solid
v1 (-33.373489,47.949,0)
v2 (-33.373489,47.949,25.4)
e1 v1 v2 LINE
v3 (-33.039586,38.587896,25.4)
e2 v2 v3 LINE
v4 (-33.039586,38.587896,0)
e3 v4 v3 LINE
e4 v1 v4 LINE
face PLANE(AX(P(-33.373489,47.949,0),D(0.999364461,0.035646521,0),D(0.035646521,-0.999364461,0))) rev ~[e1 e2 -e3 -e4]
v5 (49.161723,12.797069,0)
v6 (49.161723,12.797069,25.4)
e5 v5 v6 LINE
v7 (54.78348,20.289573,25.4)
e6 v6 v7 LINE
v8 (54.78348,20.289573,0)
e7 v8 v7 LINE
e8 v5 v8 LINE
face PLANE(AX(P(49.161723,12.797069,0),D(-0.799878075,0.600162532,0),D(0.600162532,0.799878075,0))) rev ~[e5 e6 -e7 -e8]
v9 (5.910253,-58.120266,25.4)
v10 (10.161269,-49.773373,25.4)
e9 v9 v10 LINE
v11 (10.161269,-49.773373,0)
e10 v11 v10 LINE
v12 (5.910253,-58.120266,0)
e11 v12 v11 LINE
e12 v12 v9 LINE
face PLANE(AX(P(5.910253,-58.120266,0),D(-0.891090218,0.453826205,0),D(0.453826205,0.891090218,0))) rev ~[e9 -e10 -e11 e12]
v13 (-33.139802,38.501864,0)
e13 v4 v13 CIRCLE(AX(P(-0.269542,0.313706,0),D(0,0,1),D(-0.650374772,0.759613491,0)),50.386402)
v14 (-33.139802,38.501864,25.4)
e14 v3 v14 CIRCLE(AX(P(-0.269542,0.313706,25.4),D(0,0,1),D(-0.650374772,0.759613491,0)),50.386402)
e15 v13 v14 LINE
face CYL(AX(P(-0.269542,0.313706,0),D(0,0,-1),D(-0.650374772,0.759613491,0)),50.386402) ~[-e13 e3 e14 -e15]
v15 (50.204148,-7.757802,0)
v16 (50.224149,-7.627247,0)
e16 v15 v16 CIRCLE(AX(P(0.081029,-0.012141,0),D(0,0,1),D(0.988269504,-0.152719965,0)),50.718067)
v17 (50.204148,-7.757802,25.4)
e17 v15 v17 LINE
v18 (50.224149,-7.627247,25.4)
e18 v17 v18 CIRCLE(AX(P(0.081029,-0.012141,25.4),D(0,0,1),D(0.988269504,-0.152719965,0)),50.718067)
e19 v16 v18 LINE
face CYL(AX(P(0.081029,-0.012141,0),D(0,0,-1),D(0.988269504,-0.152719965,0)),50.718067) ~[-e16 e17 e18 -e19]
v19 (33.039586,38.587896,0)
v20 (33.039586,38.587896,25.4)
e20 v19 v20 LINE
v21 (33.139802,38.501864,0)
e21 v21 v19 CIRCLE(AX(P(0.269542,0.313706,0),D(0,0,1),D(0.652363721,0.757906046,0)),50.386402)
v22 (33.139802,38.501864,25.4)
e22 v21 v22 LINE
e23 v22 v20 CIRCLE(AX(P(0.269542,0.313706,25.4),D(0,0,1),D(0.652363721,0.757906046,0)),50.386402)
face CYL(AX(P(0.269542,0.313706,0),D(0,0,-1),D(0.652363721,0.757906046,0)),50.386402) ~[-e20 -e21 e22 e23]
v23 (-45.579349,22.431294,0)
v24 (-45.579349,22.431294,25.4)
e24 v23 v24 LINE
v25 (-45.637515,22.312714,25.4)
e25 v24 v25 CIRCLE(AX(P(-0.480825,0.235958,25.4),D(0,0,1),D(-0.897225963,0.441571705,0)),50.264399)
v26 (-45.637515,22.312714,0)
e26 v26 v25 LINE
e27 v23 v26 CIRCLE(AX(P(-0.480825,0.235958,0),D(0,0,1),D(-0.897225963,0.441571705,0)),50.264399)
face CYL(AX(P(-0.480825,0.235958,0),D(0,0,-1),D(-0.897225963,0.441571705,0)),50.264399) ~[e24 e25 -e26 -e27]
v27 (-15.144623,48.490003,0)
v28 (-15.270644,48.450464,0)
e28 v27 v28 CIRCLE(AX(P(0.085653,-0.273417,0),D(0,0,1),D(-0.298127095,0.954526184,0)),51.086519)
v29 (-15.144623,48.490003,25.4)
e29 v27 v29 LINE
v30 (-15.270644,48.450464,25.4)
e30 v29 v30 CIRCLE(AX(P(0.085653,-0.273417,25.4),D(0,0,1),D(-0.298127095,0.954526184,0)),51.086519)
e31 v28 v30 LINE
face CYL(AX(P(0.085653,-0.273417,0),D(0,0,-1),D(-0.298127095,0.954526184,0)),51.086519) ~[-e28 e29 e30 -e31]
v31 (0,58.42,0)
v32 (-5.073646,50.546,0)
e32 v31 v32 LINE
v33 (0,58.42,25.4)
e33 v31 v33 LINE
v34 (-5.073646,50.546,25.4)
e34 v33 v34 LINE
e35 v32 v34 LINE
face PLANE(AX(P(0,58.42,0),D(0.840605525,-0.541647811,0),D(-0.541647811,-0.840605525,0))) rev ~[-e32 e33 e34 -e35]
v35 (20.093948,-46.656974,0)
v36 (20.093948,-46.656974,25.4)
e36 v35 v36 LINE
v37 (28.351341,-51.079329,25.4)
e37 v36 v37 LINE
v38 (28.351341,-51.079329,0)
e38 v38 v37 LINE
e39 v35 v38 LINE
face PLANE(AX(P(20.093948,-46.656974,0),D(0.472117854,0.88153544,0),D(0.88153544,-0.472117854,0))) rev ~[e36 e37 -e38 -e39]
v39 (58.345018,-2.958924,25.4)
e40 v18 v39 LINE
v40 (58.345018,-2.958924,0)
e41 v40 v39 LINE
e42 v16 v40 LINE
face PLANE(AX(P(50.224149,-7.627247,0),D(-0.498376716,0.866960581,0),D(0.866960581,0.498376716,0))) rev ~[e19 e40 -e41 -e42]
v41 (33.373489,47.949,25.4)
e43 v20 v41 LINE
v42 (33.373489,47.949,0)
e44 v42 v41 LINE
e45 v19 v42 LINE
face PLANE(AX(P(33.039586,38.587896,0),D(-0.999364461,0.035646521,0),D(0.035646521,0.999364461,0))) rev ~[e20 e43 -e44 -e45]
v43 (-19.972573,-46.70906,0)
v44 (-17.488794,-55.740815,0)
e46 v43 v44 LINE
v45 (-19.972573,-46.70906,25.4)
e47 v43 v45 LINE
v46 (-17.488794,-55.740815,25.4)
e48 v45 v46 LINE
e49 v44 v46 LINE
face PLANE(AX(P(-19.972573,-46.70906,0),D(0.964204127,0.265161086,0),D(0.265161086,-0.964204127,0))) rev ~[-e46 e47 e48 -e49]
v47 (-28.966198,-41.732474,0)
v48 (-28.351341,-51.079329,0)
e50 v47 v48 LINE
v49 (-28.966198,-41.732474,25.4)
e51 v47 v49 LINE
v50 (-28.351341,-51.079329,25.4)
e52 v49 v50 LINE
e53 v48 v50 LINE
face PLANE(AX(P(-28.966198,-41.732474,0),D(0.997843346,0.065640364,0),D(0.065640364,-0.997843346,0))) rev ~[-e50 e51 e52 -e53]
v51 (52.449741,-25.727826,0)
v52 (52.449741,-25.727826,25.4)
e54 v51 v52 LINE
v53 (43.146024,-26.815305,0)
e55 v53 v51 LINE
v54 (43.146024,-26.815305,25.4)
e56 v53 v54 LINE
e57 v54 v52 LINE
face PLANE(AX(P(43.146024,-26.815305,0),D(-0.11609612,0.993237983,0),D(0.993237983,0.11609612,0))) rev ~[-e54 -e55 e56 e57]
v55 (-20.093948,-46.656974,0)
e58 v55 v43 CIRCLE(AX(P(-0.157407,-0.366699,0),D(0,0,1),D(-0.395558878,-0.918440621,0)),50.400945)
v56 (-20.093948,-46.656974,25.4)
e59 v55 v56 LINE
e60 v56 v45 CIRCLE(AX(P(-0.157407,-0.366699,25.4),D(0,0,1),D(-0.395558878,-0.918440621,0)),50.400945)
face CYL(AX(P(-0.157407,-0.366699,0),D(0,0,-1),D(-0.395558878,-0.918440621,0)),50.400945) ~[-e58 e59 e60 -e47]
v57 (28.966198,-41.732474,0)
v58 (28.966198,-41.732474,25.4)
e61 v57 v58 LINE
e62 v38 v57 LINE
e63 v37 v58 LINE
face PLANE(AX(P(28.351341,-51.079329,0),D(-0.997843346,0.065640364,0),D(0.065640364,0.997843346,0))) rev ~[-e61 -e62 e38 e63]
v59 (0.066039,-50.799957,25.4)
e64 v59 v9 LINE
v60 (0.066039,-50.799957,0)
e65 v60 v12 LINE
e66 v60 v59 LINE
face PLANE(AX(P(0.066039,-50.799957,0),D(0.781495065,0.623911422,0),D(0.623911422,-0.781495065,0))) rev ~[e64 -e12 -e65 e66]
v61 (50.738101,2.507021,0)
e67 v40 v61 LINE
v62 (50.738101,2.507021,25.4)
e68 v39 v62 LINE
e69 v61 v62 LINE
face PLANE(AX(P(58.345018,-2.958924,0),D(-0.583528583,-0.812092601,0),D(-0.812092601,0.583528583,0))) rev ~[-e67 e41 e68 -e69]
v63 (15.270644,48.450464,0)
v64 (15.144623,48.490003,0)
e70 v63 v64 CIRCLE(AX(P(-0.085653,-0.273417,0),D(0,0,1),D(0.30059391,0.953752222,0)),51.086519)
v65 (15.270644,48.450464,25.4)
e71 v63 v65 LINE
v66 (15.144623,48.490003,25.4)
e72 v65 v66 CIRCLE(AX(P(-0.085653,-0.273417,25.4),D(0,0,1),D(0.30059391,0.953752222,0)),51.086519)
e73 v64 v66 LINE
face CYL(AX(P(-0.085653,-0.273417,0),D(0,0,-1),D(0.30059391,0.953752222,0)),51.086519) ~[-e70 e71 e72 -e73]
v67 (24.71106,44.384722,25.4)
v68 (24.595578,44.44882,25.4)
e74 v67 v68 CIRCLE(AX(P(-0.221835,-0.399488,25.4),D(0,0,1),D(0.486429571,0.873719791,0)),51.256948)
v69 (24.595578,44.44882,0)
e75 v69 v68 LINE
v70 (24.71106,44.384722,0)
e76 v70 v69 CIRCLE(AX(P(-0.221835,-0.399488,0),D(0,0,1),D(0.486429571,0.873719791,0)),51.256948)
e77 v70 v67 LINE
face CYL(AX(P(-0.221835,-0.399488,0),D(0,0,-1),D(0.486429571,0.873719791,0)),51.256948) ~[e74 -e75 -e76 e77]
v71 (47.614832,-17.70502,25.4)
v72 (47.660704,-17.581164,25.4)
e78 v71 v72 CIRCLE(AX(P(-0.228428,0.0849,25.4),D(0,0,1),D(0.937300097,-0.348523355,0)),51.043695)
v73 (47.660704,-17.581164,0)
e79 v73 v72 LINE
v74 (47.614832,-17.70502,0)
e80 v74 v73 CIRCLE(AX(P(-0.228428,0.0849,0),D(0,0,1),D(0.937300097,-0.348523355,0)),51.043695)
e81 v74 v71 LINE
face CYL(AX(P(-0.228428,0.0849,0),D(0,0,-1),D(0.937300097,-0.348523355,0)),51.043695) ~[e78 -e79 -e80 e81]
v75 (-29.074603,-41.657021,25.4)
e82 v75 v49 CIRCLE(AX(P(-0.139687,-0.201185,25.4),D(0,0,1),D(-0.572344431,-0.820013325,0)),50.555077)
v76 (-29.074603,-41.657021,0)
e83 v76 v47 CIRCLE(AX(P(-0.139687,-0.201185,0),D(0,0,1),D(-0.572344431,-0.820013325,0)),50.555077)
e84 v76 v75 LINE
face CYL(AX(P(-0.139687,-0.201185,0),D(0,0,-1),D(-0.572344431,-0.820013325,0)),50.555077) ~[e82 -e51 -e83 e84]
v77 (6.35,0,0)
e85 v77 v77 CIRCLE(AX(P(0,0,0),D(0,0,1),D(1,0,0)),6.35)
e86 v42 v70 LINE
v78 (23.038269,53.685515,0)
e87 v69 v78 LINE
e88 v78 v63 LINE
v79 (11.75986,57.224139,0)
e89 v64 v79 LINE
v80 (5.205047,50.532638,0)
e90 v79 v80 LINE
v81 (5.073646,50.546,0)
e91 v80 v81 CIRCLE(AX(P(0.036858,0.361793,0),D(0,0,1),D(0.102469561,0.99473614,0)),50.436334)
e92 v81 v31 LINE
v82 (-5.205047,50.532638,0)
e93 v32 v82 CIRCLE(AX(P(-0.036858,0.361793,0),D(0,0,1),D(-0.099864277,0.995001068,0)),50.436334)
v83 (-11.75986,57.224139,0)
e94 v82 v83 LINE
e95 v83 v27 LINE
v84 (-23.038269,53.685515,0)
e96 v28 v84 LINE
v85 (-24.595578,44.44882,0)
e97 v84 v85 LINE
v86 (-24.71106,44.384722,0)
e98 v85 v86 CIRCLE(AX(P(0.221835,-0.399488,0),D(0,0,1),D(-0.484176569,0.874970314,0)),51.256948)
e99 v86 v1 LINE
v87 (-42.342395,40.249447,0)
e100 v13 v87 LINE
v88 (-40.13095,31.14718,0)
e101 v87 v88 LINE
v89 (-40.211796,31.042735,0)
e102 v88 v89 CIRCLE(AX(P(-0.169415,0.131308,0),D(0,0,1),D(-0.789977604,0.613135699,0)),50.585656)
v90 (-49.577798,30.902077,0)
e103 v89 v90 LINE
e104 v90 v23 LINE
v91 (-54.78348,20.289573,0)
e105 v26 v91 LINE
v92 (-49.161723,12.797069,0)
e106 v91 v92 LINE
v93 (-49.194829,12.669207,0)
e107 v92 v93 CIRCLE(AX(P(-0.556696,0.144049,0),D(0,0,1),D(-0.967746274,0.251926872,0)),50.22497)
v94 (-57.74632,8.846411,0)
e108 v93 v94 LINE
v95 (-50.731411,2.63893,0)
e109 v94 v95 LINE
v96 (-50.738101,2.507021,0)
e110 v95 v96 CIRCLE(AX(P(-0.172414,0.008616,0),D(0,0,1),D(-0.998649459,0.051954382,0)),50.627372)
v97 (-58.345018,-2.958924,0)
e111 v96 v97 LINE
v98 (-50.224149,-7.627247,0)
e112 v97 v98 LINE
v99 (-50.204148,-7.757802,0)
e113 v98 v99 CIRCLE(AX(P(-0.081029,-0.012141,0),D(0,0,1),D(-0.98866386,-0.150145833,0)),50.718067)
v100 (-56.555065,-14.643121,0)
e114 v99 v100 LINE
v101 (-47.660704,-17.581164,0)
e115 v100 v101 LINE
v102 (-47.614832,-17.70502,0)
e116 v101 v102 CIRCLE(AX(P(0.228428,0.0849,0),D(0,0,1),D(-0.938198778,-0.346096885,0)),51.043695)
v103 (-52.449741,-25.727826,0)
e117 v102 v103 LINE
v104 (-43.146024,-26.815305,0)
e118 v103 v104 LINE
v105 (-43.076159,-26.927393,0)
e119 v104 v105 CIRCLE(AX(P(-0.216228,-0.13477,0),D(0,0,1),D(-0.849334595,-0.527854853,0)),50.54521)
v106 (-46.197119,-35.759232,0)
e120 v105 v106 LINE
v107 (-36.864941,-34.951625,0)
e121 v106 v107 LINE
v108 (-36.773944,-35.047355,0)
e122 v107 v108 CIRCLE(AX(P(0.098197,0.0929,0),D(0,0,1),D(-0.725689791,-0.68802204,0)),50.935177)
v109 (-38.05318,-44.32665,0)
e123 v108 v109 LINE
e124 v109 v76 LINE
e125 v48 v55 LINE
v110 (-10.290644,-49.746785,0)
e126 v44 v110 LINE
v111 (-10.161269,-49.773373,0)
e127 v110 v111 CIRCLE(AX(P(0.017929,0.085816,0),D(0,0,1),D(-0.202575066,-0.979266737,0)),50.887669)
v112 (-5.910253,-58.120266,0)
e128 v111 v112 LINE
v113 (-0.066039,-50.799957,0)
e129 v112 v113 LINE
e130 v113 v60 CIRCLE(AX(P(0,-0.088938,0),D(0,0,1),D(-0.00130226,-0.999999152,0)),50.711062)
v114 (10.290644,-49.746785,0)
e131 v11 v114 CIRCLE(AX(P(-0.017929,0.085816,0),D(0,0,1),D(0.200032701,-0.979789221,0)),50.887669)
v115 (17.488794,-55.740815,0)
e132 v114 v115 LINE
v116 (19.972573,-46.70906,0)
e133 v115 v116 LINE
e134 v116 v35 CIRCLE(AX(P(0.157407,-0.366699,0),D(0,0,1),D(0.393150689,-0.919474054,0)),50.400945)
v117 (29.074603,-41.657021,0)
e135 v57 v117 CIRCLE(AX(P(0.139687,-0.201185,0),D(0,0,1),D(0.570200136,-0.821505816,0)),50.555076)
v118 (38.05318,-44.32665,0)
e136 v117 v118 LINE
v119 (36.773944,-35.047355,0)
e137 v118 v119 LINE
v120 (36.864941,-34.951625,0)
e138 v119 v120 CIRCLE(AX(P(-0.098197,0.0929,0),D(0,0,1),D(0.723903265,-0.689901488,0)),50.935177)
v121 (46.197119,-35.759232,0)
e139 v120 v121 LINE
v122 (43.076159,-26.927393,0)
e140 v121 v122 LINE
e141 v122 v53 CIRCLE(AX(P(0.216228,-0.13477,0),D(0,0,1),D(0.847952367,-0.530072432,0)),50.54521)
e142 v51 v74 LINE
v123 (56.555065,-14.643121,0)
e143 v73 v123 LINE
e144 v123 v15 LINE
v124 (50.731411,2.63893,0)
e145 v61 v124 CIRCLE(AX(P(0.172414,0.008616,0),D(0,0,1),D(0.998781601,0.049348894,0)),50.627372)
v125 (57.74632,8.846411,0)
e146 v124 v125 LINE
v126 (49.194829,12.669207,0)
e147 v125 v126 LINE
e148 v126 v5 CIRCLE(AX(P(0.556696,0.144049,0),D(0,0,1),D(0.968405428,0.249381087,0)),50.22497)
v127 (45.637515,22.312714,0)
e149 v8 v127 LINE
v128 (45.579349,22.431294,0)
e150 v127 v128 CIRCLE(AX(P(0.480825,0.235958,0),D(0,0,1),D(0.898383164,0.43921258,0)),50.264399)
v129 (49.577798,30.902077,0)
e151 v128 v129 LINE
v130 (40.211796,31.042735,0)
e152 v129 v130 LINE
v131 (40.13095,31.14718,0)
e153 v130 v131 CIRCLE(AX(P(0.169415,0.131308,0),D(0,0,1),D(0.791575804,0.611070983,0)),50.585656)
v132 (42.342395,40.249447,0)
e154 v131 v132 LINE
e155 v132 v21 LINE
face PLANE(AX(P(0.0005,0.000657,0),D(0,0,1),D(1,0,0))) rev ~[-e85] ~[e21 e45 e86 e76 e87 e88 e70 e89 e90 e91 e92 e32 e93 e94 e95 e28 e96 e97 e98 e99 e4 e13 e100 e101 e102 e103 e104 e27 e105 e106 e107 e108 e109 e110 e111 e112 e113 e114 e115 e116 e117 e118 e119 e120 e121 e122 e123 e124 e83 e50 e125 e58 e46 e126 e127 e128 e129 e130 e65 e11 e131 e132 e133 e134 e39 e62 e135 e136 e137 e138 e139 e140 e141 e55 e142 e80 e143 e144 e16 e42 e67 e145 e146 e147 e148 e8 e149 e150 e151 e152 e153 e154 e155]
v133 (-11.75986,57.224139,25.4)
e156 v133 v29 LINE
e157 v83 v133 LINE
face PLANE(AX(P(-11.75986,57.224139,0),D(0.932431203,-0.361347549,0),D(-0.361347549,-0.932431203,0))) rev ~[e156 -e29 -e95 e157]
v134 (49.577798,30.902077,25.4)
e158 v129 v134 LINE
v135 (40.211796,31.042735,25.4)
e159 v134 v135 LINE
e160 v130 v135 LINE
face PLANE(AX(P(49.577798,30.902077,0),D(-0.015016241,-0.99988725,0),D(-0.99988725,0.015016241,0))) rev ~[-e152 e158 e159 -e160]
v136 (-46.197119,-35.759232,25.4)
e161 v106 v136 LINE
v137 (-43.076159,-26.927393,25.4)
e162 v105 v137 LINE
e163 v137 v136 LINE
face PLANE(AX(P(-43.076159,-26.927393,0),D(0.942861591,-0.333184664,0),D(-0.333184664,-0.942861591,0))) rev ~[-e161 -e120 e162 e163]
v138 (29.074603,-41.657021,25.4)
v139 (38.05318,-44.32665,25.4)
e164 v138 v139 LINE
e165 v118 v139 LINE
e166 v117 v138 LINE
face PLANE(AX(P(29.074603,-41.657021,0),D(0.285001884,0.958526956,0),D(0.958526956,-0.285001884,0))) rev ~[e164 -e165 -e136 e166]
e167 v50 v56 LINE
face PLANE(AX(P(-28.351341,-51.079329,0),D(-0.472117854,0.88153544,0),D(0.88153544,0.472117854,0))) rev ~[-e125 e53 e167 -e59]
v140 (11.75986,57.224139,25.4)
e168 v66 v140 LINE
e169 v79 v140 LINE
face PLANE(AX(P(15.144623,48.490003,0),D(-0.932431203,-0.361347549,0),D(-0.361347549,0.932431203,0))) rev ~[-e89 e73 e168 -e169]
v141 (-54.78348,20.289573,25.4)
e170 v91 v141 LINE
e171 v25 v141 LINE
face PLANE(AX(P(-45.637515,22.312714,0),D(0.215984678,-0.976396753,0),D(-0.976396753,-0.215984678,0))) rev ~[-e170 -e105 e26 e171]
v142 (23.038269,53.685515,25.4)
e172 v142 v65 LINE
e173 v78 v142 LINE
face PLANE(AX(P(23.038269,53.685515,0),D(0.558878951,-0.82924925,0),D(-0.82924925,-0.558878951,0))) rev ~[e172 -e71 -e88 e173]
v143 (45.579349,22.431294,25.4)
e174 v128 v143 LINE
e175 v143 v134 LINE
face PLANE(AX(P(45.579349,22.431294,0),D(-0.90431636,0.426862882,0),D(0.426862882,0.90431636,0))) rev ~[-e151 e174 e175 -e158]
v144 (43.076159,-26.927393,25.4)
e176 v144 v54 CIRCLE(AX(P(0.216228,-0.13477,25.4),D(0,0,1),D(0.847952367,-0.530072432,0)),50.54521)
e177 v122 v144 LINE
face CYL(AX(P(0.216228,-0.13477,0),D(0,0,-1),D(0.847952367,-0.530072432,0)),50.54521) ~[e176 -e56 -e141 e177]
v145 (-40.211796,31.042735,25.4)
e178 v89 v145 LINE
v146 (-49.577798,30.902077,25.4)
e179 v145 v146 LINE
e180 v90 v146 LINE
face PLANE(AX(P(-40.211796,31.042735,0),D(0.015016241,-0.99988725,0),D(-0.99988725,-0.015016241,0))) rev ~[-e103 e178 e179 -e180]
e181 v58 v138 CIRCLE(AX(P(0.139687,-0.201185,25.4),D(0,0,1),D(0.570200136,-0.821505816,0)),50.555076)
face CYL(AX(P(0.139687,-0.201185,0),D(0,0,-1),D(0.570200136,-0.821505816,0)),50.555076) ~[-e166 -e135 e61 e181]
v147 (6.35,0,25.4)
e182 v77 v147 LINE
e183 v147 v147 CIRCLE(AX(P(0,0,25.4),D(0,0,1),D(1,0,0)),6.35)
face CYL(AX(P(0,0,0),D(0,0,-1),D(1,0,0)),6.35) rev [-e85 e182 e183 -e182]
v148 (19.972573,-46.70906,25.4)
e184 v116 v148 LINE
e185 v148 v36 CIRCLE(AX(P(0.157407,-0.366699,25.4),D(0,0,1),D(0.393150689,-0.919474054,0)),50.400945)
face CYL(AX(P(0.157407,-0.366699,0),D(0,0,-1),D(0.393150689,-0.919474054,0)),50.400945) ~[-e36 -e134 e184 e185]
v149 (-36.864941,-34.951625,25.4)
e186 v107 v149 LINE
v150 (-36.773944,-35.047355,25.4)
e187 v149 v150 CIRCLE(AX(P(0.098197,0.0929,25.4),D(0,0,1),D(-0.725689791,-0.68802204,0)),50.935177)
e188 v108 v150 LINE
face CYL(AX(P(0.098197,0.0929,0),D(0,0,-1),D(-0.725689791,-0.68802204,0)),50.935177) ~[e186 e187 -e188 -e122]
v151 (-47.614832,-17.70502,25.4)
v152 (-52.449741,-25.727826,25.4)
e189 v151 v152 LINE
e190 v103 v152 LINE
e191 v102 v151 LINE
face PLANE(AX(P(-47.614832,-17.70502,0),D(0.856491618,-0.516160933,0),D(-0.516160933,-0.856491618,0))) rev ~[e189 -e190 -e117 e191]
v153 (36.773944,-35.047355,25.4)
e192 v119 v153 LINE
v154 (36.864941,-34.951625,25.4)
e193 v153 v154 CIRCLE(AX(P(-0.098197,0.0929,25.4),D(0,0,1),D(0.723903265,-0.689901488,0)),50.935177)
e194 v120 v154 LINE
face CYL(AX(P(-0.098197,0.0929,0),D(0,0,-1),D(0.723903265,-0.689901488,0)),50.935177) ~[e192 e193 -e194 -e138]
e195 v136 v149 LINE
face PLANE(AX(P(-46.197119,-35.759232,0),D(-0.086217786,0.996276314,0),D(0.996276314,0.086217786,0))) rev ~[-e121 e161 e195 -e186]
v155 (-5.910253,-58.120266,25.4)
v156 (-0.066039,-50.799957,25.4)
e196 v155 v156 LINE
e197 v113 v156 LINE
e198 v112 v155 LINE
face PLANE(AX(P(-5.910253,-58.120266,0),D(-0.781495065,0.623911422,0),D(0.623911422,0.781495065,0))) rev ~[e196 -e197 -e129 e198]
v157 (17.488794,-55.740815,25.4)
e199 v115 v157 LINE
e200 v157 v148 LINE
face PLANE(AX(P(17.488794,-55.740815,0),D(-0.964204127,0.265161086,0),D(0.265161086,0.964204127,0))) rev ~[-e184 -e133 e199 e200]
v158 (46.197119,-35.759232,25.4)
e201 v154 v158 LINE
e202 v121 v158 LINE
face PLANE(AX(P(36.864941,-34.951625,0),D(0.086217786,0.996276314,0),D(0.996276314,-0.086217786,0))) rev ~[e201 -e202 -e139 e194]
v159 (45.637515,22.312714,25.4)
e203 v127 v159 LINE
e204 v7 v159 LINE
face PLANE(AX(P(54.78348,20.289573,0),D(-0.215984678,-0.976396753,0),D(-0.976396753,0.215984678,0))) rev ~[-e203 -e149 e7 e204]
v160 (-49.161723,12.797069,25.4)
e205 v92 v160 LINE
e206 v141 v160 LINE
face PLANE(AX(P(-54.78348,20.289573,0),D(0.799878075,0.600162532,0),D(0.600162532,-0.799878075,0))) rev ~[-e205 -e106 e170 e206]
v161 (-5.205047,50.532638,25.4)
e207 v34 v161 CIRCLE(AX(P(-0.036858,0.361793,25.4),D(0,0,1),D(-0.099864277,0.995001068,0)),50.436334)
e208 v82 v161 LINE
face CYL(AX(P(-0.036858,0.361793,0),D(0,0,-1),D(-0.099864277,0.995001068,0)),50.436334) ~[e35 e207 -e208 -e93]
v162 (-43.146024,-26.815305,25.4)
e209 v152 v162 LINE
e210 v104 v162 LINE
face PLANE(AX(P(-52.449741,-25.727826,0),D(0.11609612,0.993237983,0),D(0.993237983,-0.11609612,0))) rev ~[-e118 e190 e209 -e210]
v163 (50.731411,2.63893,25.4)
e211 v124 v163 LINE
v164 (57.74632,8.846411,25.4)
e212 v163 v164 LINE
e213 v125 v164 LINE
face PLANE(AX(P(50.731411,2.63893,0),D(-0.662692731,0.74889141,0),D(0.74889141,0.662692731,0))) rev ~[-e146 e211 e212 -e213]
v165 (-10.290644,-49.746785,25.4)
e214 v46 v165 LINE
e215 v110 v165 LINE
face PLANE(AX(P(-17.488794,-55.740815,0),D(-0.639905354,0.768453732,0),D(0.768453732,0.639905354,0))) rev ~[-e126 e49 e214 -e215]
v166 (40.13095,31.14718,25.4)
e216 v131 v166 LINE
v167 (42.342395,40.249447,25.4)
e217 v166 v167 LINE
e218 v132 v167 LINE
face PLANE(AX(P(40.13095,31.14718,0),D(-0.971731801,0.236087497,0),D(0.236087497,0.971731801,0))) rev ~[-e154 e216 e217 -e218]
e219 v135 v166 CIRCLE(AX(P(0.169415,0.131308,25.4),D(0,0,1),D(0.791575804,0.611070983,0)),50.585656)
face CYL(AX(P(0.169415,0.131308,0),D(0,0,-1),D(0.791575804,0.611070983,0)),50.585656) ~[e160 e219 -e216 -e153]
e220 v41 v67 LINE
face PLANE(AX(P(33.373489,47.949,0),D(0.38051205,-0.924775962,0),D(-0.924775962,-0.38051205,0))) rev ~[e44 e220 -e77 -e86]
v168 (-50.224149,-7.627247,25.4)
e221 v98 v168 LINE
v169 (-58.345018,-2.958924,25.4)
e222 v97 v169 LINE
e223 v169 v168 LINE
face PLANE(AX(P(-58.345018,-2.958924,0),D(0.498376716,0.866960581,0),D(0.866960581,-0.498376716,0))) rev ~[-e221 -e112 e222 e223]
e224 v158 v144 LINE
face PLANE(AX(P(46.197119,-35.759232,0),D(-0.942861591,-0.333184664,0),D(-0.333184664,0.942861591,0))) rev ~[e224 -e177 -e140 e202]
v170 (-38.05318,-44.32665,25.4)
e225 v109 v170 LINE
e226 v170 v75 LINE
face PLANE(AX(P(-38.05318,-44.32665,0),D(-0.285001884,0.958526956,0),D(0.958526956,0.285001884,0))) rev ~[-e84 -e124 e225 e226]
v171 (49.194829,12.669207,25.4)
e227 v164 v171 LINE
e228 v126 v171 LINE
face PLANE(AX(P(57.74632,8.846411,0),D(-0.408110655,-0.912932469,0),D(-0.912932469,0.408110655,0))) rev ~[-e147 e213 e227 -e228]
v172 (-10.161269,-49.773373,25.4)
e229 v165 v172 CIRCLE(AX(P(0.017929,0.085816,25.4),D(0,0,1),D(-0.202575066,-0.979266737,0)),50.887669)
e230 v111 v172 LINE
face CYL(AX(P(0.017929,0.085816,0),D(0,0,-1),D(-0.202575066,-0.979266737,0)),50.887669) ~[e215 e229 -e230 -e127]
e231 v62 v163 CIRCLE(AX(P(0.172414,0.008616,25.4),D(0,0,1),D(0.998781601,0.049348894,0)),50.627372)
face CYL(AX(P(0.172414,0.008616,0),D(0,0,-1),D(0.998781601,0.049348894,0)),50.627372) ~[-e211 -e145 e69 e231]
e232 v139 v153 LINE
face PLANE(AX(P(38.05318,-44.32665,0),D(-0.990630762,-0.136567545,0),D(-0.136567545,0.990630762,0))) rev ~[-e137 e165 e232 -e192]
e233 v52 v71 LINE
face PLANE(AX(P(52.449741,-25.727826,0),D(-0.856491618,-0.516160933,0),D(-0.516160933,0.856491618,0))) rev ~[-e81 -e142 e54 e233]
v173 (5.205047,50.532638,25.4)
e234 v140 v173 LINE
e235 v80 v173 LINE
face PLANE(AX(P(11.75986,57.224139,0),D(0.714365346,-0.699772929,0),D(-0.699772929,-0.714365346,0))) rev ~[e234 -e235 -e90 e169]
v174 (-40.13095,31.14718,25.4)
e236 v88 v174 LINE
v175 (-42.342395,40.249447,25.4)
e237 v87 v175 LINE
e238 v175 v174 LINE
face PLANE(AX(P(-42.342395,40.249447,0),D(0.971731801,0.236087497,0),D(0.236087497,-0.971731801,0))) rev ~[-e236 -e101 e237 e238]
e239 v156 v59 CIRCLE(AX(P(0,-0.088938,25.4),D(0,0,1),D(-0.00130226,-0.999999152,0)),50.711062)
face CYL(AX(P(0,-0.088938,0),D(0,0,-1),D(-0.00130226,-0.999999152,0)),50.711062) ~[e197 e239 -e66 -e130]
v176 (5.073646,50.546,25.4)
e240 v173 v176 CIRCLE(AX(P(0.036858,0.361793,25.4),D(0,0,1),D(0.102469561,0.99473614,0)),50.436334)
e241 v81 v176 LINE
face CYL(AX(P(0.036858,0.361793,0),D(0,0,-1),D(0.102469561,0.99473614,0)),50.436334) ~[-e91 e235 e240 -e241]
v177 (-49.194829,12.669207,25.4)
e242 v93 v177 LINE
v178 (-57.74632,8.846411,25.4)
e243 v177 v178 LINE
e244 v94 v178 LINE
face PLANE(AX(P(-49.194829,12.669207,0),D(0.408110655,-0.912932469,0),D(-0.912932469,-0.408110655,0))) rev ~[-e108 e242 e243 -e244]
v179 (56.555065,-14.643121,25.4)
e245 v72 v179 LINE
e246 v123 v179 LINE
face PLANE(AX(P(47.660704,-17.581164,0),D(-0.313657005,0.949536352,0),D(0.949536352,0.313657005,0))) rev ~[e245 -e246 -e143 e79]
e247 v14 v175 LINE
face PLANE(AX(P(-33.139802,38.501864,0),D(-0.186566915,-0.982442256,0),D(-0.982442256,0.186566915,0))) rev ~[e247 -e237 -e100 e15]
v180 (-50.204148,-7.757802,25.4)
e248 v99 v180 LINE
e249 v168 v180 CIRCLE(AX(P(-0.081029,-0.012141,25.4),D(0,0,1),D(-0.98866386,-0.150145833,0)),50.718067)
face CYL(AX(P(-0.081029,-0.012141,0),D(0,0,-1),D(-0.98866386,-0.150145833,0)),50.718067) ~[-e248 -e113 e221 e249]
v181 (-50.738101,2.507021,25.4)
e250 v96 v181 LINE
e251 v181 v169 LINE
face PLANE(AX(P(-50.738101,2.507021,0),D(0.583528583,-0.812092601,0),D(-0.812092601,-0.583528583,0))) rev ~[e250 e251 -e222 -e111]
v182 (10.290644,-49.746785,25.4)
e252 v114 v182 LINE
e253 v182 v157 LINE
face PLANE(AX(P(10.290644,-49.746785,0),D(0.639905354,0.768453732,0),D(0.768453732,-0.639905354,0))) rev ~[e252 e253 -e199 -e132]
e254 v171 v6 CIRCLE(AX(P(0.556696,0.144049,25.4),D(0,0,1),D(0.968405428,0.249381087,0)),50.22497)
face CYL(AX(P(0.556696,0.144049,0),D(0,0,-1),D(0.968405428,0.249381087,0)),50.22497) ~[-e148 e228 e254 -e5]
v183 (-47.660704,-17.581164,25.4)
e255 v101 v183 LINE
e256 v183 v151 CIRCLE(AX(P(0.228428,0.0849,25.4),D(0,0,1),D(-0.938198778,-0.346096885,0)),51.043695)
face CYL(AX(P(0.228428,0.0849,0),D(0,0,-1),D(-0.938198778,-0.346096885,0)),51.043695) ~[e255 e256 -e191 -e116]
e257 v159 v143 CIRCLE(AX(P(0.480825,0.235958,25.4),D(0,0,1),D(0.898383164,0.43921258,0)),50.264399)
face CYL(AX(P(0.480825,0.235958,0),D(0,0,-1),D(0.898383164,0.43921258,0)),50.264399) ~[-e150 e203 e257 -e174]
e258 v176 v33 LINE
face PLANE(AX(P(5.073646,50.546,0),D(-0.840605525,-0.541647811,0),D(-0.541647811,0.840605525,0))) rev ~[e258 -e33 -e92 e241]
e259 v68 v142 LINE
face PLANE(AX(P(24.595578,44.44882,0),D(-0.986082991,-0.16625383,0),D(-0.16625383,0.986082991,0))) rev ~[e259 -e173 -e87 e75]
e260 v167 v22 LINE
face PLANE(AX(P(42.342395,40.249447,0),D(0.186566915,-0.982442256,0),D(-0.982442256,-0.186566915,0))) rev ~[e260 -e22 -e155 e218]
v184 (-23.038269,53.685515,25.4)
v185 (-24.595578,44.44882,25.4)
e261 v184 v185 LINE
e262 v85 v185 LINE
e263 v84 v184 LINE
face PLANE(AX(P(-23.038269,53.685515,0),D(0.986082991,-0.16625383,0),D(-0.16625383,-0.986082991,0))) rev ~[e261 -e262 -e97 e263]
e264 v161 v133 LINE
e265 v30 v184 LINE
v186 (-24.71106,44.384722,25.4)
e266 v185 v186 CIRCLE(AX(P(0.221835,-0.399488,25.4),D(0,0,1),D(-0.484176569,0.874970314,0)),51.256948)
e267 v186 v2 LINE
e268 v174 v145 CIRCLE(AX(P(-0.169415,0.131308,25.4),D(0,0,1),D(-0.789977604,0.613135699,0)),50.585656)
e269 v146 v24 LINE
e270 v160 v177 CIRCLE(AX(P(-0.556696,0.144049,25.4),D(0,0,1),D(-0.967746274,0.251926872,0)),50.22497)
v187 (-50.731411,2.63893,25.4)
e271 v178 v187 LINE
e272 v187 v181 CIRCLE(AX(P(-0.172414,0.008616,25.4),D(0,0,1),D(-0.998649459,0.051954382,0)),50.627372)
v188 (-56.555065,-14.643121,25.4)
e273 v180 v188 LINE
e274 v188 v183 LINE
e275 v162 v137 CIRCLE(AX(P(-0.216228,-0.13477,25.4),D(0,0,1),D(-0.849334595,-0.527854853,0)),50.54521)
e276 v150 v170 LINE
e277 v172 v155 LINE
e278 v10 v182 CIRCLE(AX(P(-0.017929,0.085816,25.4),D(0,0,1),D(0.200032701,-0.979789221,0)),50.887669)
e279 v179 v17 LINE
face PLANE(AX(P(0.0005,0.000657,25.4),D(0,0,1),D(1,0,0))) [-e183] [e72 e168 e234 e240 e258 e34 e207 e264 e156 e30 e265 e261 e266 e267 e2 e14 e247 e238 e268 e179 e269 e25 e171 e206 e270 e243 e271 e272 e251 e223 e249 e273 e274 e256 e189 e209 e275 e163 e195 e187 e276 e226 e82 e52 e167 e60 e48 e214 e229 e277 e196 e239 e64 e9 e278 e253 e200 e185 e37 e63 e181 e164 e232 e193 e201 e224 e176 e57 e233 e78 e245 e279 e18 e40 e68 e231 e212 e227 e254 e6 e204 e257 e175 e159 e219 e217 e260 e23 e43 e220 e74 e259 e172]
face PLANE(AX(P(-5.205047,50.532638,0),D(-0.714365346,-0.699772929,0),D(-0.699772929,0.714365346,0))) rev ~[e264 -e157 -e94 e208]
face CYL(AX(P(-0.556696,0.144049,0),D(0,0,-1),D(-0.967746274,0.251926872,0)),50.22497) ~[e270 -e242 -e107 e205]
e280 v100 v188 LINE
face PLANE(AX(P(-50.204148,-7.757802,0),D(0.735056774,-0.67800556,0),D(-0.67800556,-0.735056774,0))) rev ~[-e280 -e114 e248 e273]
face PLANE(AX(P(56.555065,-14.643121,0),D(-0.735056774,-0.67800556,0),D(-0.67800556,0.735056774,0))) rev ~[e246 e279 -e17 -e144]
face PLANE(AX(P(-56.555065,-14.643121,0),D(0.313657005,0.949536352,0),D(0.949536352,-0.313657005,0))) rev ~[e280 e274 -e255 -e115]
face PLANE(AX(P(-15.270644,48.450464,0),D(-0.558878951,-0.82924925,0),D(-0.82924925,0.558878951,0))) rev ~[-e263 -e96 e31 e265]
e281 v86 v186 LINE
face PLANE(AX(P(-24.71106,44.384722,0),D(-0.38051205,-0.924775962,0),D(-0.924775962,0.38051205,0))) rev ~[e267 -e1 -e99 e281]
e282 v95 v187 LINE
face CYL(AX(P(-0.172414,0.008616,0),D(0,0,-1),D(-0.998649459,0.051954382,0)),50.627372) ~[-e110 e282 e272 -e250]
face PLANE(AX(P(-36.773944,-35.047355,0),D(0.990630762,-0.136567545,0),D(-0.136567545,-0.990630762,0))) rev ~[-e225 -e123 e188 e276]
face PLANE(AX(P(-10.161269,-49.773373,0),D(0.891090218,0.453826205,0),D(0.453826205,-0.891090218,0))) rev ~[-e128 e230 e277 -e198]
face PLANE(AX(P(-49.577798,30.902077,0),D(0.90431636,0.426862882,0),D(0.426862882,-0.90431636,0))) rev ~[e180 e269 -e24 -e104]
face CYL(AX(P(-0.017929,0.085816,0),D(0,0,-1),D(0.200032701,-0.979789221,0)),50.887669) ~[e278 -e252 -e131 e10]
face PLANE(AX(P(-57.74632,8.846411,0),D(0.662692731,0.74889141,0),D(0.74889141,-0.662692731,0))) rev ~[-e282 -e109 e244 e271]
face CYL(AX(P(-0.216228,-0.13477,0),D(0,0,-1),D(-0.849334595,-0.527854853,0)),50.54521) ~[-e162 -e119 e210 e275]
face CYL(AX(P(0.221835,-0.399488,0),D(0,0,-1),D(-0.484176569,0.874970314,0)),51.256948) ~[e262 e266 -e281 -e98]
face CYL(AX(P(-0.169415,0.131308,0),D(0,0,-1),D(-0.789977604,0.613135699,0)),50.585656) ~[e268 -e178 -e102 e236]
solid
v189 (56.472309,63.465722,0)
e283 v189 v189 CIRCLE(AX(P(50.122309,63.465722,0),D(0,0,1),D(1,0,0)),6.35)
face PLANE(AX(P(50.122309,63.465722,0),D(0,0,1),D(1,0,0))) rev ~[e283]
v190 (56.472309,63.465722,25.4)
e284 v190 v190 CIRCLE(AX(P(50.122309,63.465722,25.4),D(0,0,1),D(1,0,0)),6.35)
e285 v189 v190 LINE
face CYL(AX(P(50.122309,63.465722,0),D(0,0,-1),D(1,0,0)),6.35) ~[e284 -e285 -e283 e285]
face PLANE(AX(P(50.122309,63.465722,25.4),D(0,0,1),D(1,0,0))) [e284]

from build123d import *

# Parameters (mm, degrees)
F0_R     = 6.35
F1_DEPTH = 25.4
F2_R     = 6.35
F3_DEPTH = 25.4


with BuildPart() as f1:
    # F0 (on Top) → F1 (new body)
    with BuildSketch(Plane.XY):
        with BuildLine():
            ThreePointArc((50.224149, -7.627247), (50.655833, -3.824477), (50.8, 0))
            ThreePointArc((50.8, 0), (50.784523, 1.253893), (50.738101, 2.507021))
            ThreePointArc((50.738101, 2.507021), (50.734799, 2.572978), (50.731411, 2.63893))
            ThreePointArc((50.731411, 2.63893), (50.214191, 7.692531), (49.194829, 12.669207))
            ThreePointArc((49.194829, 12.669207), (49.178318, 12.733149), (49.161723, 12.797069))
            ThreePointArc((49.161723, 12.797069), (47.637808, 17.643107), (45.637515, 22.312714))
            ThreePointArc((45.637515, 22.312714), (45.608471, 22.372023), (45.579349, 22.431294))
            ThreePointArc((45.579349, 22.431294), (43.111128, 26.871372), (40.211796, 31.042735))
            ThreePointArc((40.211796, 31.042735), (40.171407, 31.094984), (40.13095, 31.14718))
            ThreePointArc((40.13095, 31.14718), (36.819474, 34.999519), (33.139802, 38.501864))
            ThreePointArc((33.139802, 38.501864), (33.089722, 38.544913), (33.039586, 38.587896))
            ThreePointArc((33.039586, 38.587896), (29.020425, 41.694783), (24.71106, 44.384722))
            ThreePointArc((24.71106, 44.384722), (24.65334, 44.416808), (24.595578, 44.44882))
            ThreePointArc((24.595578, 44.44882), (20.033277, 46.683057), (15.270644, 48.450464))
            ThreePointArc((15.270644, 48.450464), (15.207647, 48.470274), (15.144623, 48.490003))
            ThreePointArc((15.144623, 48.490003), (10.225965, 49.760121), (5.205047, 50.532638))
            ThreePointArc((5.205047, 50.532638), (5.139351, 50.539362), (5.073646, 50.546))
            ThreePointArc((5.073646, 50.546), (2.54, 50.73646), (0, 50.8))
            ThreePointArc((0, 50.8), (-2.54, 50.73646), (-5.073646, 50.546))
            ThreePointArc((-5.073646, 50.546), (-5.139351, 50.539362), (-5.205047, 50.532638))
            ThreePointArc((-5.205047, 50.532638), (-10.225965, 49.760121), (-15.144623, 48.490003))
            ThreePointArc((-15.144623, 48.490003), (-15.207647, 48.470274), (-15.270644, 48.450464))
            ThreePointArc((-15.270644, 48.450464), (-20.033277, 46.683057), (-24.595578, 44.44882))
            ThreePointArc((-24.595578, 44.44882), (-24.65334, 44.416808), (-24.71106, 44.384722))
            ThreePointArc((-24.71106, 44.384722), (-29.020425, 41.694783), (-33.039586, 38.587896))
            ThreePointArc((-33.039586, 38.587896), (-33.089722, 38.544913), (-33.139802, 38.501864))
            ThreePointArc((-33.139802, 38.501864), (-36.819474, 34.999519), (-40.13095, 31.14718))
            ThreePointArc((-40.13095, 31.14718), (-40.171407, 31.094984), (-40.211796, 31.042735))
            ThreePointArc((-40.211796, 31.042735), (-43.111128, 26.871372), (-45.579349, 22.431294))
            ThreePointArc((-45.579349, 22.431294), (-45.608471, 22.372023), (-45.637515, 22.312714))
            ThreePointArc((-45.637515, 22.312714), (-47.637808, 17.643107), (-49.161723, 12.797069))
            ThreePointArc((-49.161723, 12.797069), (-49.178318, 12.733149), (-49.194829, 12.669207))
            ThreePointArc((-49.194829, 12.669207), (-50.214191, 7.692531), (-50.731411, 2.63893))
            ThreePointArc((-50.731411, 2.63893), (-50.734799, 2.572978), (-50.738101, 2.507021))
            ThreePointArc((-50.738101, 2.507021), (-50.734799, -2.572978), (-50.224149, -7.627247))
            ThreePointArc((-50.224149, -7.627247), (-50.214191, -7.692531), (-50.204148, -7.757802))
            ThreePointArc((-50.204148, -7.757802), (-49.178318, -12.733149), (-47.660704, -17.581164))
            ThreePointArc((-47.660704, -17.581164), (-47.637808, -17.643107), (-47.614832, -17.70502))
            ThreePointArc((-47.614832, -17.70502), (-45.608471, -22.372023), (-43.146024, -26.815305))
            ThreePointArc((-43.146024, -26.815305), (-43.111128, -26.871372), (-43.076159, -26.927393))
            ThreePointArc((-43.076159, -26.927393), (-40.171407, -31.094984), (-36.864941, -34.951625))
            ThreePointArc((-36.864941, -34.951625), (-36.819474, -34.999519), (-36.773944, -35.047355))
            ThreePointArc((-36.773944, -35.047355), (-33.089722, -38.544913), (-29.074603, -41.657021))
            ThreePointArc((-29.074603, -41.657021), (-29.020425, -41.694783), (-28.966198, -41.732474))
            ThreePointArc((-28.966198, -41.732474), (-24.65334, -44.416808), (-20.093948, -46.656974))
            ThreePointArc((-20.093948, -46.656974), (-20.033277, -46.683057), (-19.972573, -46.70906))
            ThreePointArc((-19.972573, -46.70906), (-15.207647, -48.470274), (-10.290644, -49.746785))
            ThreePointArc((-10.290644, -49.746785), (-10.225965, -49.760121), (-10.161269, -49.773373))
            ThreePointArc((-10.161269, -49.773373), (-5.139351, -50.539362), (-0.066039, -50.799957))
            ThreePointArc((-0.066039, -50.799957), (0, -50.8), (0.066039, -50.799957))
            ThreePointArc((0.066039, -50.799957), (5.139351, -50.539362), (10.161269, -49.773373))
            ThreePointArc((10.161269, -49.773373), (10.225965, -49.760121), (10.290644, -49.746785))
            ThreePointArc((10.290644, -49.746785), (15.207647, -48.470274), (19.972573, -46.70906))
            ThreePointArc((19.972573, -46.70906), (20.033277, -46.683057), (20.093948, -46.656974))
            ThreePointArc((20.093948, -46.656974), (24.65334, -44.416808), (28.966198, -41.732474))
            ThreePointArc((28.966198, -41.732474), (29.020425, -41.694783), (29.074603, -41.657021))
            ThreePointArc((29.074603, -41.657021), (33.089722, -38.544913), (36.773944, -35.047355))
            ThreePointArc((36.773944, -35.047355), (36.819474, -34.999519), (36.864941, -34.951625))
            ThreePointArc((36.864941, -34.951625), (40.171407, -31.094984), (43.076159, -26.927393))
            ThreePointArc((43.076159, -26.927393), (43.111128, -26.871372), (43.146024, -26.815305))
            ThreePointArc((43.146024, -26.815305), (45.608471, -22.372023), (47.614832, -17.70502))
            ThreePointArc((47.614832, -17.70502), (47.637808, -17.643107), (47.660704, -17.581164))
            ThreePointArc((47.660704, -17.581164), (49.178318, -12.733149), (50.204148, -7.757802))
            ThreePointArc((50.204148, -7.757802), (50.214191, -7.692531), (50.224149, -7.627247))
        make_face()
        Circle(F0_R, mode=Mode.SUBTRACT)
        with BuildLine():
            ThreePointArc((50.738101, 2.507021), (50.784523, 1.253893), (50.8, 0))
            ThreePointArc((50.8, 0), (50.655833, -3.824477), (50.224149, -7.627247))
            Line((50.224149, -7.627247), (58.345018, -2.958924))
            Line((58.345018, -2.958924), (50.738101, 2.507021))
        make_face()
        with BuildLine():
            ThreePointArc((49.194829, 12.669207), (50.214191, 7.692531), (50.731411, 2.63893))
            Line((50.731411, 2.63893), (57.74632, 8.846411))
            Line((57.74632, 8.846411), (49.194829, 12.669207))
        make_face()
        with BuildLine():
            Line((56.555065, -14.643121), (50.204148, -7.757802))
            ThreePointArc((50.204148, -7.757802), (49.178318, -12.733149), (47.660704, -17.581164))
            Line((47.660704, -17.581164), (56.555065, -14.643121))
        make_face()
        with BuildLine():
            ThreePointArc((45.637515, 22.312714), (47.637808, 17.643107), (49.161723, 12.797069))
            Line((49.161723, 12.797069), (54.78348, 20.289573))
            Line((54.78348, 20.289573), (45.637515, 22.312714))
        make_face()
        with BuildLine():
            Line((52.449741, -25.727826), (47.614832, -17.70502))
            ThreePointArc((47.614832, -17.70502), (45.608471, -22.372023), (43.146024, -26.815305))
            Line((43.146024, -26.815305), (52.449741, -25.727826))
        make_face()
        with BuildLine():
            ThreePointArc((40.211796, 31.042735), (43.111128, 26.871372), (45.579349, 22.431294))
            Line((45.579349, 22.431294), (49.577798, 30.902077))
            Line((49.577798, 30.902077), (40.211796, 31.042735))
        make_face()
        with BuildLine():
            Line((46.197119, -35.759232), (43.076159, -26.927393))
            ThreePointArc((43.076159, -26.927393), (40.171407, -31.094984), (36.864941, -34.951625))
            Line((36.864941, -34.951625), (46.197119, -35.759232))
        make_face()
        with BuildLine():
            ThreePointArc((33.139802, 38.501864), (36.819474, 34.999519), (40.13095, 31.14718))
            Line((40.13095, 31.14718), (42.342395, 40.249447))
            Line((42.342395, 40.249447), (33.139802, 38.501864))
        make_face()
        with BuildLine():
            Line((38.05318, -44.32665), (36.773944, -35.047355))
            ThreePointArc((36.773944, -35.047355), (33.089722, -38.544913), (29.074603, -41.657021))
            Line((29.074603, -41.657021), (38.05318, -44.32665))
        make_face()
        with BuildLine():
            ThreePointArc((24.71106, 44.384722), (29.020425, 41.694783), (33.039586, 38.587896))
            Line((33.039586, 38.587896), (33.373489, 47.949))
            Line((33.373489, 47.949), (24.71106, 44.384722))
        make_face()
        with BuildLine():
            Line((28.351341, -51.079329), (28.966198, -41.732474))
            ThreePointArc((28.966198, -41.732474), (24.65334, -44.416808), (20.093948, -46.656974))
            Line((20.093948, -46.656974), (28.351341, -51.079329))
        make_face()
        with BuildLine():
            ThreePointArc((15.270644, 48.450464), (20.033277, 46.683057), (24.595578, 44.44882))
            Line((24.595578, 44.44882), (23.038269, 53.685515))
            Line((23.038269, 53.685515), (15.270644, 48.450464))
        make_face()
        with BuildLine():
            Line((17.488794, -55.740815), (19.972573, -46.70906))
            ThreePointArc((19.972573, -46.70906), (15.207647, -48.470274), (10.290644, -49.746785))
            Line((10.290644, -49.746785), (17.488794, -55.740815))
        make_face()
        with BuildLine():
            ThreePointArc((5.205047, 50.532638), (10.225965, 49.760121), (15.144623, 48.490003))
            Line((15.144623, 48.490003), (11.75986, 57.224139))
            Line((11.75986, 57.224139), (5.205047, 50.532638))
        make_face()
        with BuildLine():
            Line((5.910253, -58.120266), (10.161269, -49.773373))
            ThreePointArc((10.161269, -49.773373), (5.139351, -50.539362), (0.066039, -50.799957))
            Line((0.066039, -50.799957), (5.910253, -58.120266))
        make_face()
        with BuildLine():
            ThreePointArc((0, 50.8), (2.54, 50.73646), (5.073646, 50.546))
            Line((5.073646, 50.546), (0, 58.42))
            Line((0, 58.42), (0, 50.8))
        make_face()
        with BuildLine():
            Line((-5.910253, -58.120266), (-0.066039, -50.799957))
            ThreePointArc((-0.066039, -50.799957), (-5.139351, -50.539362), (-10.161269, -49.773373))
            Line((-10.161269, -49.773373), (-5.910253, -58.120266))
        make_face()
        with BuildLine():
            ThreePointArc((-5.073646, 50.546), (-2.54, 50.73646), (0, 50.8))
            Line((0, 50.8), (0, 58.42))
            Line((0, 58.42), (-5.073646, 50.546))
        make_face()
        with BuildLine():
            Line((-17.488794, -55.740815), (-10.290644, -49.746785))
            ThreePointArc((-10.290644, -49.746785), (-15.207647, -48.470274), (-19.972573, -46.70906))
            Line((-19.972573, -46.70906), (-17.488794, -55.740815))
        make_face()
        with BuildLine():
            ThreePointArc((-15.144623, 48.490003), (-10.225965, 49.760121), (-5.205047, 50.532638))
            Line((-5.205047, 50.532638), (-11.75986, 57.224139))
            Line((-11.75986, 57.224139), (-15.144623, 48.490003))
        make_face()
        with BuildLine():
            Line((-28.351341, -51.079329), (-20.093948, -46.656974))
            ThreePointArc((-20.093948, -46.656974), (-24.65334, -44.416808), (-28.966198, -41.732474))
            Line((-28.966198, -41.732474), (-28.351341, -51.079329))
        make_face()
        with BuildLine():
            ThreePointArc((-24.595578, 44.44882), (-20.033277, 46.683057), (-15.270644, 48.450464))
            Line((-15.270644, 48.450464), (-23.038269, 53.685515))
            Line((-23.038269, 53.685515), (-24.595578, 44.44882))
        make_face()
        with BuildLine():
            Line((-38.05318, -44.32665), (-29.074603, -41.657021))
            ThreePointArc((-29.074603, -41.657021), (-33.089722, -38.544913), (-36.773944, -35.047355))
            Line((-36.773944, -35.047355), (-38.05318, -44.32665))
        make_face()
        with BuildLine():
            ThreePointArc((-33.039586, 38.587896), (-29.020425, 41.694783), (-24.71106, 44.384722))
            Line((-24.71106, 44.384722), (-33.373489, 47.949))
            Line((-33.373489, 47.949), (-33.039586, 38.587896))
        make_face()
        with BuildLine():
            Line((-46.197119, -35.759232), (-36.864941, -34.951625))
            ThreePointArc((-36.864941, -34.951625), (-40.171407, -31.094984), (-43.076159, -26.927393))
            Line((-43.076159, -26.927393), (-46.197119, -35.759232))
        make_face()
        with BuildLine():
            ThreePointArc((-40.13095, 31.14718), (-36.819474, 34.999519), (-33.139802, 38.501864))
            Line((-33.139802, 38.501864), (-42.342395, 40.249447))
            Line((-42.342395, 40.249447), (-40.13095, 31.14718))
        make_face()
        with BuildLine():
            Line((-52.449741, -25.727826), (-43.146024, -26.815305))
            ThreePointArc((-43.146024, -26.815305), (-45.608471, -22.372023), (-47.614832, -17.70502))
            Line((-47.614832, -17.70502), (-52.449741, -25.727826))
        make_face()
        with BuildLine():
            ThreePointArc((-45.579349, 22.431294), (-43.111128, 26.871372), (-40.211796, 31.042735))
            Line((-40.211796, 31.042735), (-49.577798, 30.902077))
            Line((-49.577798, 30.902077), (-45.579349, 22.431294))
        make_face()
        with BuildLine():
            Line((-56.555065, -14.643121), (-47.660704, -17.581164))
            ThreePointArc((-47.660704, -17.581164), (-49.178318, -12.733149), (-50.204148, -7.757802))
            Line((-50.204148, -7.757802), (-56.555065, -14.643121))
        make_face()
        with BuildLine():
            ThreePointArc((-49.161723, 12.797069), (-47.637808, 17.643107), (-45.637515, 22.312714))
            Line((-45.637515, 22.312714), (-54.78348, 20.289573))
            Line((-54.78348, 20.289573), (-49.161723, 12.797069))
        make_face()
        with BuildLine():
            Line((-58.345018, -2.958924), (-50.224149, -7.627247))
            ThreePointArc((-50.224149, -7.627247), (-50.734799, -2.572978), (-50.738101, 2.507021))
            Line((-50.738101, 2.507021), (-58.345018, -2.958924))
        make_face()
        with BuildLine():
            ThreePointArc((-50.731411, 2.63893), (-50.214191, 7.692531), (-49.194829, 12.669207))
            Line((-49.194829, 12.669207), (-57.74632, 8.846411))
            Line((-57.74632, 8.846411), (-50.731411, 2.63893))
        make_face()
    extrude(amount=F1_DEPTH)


with BuildPart() as f3:
    # F2 (on Top) → F3 (new body)
    with BuildSketch(Plane.XY):
        with Locations((50.122309, 63.465722)):
            Circle(F2_R)
    extrude(amount=F3_DEPTH)


solid = Compound([f1.part, f3.part])
